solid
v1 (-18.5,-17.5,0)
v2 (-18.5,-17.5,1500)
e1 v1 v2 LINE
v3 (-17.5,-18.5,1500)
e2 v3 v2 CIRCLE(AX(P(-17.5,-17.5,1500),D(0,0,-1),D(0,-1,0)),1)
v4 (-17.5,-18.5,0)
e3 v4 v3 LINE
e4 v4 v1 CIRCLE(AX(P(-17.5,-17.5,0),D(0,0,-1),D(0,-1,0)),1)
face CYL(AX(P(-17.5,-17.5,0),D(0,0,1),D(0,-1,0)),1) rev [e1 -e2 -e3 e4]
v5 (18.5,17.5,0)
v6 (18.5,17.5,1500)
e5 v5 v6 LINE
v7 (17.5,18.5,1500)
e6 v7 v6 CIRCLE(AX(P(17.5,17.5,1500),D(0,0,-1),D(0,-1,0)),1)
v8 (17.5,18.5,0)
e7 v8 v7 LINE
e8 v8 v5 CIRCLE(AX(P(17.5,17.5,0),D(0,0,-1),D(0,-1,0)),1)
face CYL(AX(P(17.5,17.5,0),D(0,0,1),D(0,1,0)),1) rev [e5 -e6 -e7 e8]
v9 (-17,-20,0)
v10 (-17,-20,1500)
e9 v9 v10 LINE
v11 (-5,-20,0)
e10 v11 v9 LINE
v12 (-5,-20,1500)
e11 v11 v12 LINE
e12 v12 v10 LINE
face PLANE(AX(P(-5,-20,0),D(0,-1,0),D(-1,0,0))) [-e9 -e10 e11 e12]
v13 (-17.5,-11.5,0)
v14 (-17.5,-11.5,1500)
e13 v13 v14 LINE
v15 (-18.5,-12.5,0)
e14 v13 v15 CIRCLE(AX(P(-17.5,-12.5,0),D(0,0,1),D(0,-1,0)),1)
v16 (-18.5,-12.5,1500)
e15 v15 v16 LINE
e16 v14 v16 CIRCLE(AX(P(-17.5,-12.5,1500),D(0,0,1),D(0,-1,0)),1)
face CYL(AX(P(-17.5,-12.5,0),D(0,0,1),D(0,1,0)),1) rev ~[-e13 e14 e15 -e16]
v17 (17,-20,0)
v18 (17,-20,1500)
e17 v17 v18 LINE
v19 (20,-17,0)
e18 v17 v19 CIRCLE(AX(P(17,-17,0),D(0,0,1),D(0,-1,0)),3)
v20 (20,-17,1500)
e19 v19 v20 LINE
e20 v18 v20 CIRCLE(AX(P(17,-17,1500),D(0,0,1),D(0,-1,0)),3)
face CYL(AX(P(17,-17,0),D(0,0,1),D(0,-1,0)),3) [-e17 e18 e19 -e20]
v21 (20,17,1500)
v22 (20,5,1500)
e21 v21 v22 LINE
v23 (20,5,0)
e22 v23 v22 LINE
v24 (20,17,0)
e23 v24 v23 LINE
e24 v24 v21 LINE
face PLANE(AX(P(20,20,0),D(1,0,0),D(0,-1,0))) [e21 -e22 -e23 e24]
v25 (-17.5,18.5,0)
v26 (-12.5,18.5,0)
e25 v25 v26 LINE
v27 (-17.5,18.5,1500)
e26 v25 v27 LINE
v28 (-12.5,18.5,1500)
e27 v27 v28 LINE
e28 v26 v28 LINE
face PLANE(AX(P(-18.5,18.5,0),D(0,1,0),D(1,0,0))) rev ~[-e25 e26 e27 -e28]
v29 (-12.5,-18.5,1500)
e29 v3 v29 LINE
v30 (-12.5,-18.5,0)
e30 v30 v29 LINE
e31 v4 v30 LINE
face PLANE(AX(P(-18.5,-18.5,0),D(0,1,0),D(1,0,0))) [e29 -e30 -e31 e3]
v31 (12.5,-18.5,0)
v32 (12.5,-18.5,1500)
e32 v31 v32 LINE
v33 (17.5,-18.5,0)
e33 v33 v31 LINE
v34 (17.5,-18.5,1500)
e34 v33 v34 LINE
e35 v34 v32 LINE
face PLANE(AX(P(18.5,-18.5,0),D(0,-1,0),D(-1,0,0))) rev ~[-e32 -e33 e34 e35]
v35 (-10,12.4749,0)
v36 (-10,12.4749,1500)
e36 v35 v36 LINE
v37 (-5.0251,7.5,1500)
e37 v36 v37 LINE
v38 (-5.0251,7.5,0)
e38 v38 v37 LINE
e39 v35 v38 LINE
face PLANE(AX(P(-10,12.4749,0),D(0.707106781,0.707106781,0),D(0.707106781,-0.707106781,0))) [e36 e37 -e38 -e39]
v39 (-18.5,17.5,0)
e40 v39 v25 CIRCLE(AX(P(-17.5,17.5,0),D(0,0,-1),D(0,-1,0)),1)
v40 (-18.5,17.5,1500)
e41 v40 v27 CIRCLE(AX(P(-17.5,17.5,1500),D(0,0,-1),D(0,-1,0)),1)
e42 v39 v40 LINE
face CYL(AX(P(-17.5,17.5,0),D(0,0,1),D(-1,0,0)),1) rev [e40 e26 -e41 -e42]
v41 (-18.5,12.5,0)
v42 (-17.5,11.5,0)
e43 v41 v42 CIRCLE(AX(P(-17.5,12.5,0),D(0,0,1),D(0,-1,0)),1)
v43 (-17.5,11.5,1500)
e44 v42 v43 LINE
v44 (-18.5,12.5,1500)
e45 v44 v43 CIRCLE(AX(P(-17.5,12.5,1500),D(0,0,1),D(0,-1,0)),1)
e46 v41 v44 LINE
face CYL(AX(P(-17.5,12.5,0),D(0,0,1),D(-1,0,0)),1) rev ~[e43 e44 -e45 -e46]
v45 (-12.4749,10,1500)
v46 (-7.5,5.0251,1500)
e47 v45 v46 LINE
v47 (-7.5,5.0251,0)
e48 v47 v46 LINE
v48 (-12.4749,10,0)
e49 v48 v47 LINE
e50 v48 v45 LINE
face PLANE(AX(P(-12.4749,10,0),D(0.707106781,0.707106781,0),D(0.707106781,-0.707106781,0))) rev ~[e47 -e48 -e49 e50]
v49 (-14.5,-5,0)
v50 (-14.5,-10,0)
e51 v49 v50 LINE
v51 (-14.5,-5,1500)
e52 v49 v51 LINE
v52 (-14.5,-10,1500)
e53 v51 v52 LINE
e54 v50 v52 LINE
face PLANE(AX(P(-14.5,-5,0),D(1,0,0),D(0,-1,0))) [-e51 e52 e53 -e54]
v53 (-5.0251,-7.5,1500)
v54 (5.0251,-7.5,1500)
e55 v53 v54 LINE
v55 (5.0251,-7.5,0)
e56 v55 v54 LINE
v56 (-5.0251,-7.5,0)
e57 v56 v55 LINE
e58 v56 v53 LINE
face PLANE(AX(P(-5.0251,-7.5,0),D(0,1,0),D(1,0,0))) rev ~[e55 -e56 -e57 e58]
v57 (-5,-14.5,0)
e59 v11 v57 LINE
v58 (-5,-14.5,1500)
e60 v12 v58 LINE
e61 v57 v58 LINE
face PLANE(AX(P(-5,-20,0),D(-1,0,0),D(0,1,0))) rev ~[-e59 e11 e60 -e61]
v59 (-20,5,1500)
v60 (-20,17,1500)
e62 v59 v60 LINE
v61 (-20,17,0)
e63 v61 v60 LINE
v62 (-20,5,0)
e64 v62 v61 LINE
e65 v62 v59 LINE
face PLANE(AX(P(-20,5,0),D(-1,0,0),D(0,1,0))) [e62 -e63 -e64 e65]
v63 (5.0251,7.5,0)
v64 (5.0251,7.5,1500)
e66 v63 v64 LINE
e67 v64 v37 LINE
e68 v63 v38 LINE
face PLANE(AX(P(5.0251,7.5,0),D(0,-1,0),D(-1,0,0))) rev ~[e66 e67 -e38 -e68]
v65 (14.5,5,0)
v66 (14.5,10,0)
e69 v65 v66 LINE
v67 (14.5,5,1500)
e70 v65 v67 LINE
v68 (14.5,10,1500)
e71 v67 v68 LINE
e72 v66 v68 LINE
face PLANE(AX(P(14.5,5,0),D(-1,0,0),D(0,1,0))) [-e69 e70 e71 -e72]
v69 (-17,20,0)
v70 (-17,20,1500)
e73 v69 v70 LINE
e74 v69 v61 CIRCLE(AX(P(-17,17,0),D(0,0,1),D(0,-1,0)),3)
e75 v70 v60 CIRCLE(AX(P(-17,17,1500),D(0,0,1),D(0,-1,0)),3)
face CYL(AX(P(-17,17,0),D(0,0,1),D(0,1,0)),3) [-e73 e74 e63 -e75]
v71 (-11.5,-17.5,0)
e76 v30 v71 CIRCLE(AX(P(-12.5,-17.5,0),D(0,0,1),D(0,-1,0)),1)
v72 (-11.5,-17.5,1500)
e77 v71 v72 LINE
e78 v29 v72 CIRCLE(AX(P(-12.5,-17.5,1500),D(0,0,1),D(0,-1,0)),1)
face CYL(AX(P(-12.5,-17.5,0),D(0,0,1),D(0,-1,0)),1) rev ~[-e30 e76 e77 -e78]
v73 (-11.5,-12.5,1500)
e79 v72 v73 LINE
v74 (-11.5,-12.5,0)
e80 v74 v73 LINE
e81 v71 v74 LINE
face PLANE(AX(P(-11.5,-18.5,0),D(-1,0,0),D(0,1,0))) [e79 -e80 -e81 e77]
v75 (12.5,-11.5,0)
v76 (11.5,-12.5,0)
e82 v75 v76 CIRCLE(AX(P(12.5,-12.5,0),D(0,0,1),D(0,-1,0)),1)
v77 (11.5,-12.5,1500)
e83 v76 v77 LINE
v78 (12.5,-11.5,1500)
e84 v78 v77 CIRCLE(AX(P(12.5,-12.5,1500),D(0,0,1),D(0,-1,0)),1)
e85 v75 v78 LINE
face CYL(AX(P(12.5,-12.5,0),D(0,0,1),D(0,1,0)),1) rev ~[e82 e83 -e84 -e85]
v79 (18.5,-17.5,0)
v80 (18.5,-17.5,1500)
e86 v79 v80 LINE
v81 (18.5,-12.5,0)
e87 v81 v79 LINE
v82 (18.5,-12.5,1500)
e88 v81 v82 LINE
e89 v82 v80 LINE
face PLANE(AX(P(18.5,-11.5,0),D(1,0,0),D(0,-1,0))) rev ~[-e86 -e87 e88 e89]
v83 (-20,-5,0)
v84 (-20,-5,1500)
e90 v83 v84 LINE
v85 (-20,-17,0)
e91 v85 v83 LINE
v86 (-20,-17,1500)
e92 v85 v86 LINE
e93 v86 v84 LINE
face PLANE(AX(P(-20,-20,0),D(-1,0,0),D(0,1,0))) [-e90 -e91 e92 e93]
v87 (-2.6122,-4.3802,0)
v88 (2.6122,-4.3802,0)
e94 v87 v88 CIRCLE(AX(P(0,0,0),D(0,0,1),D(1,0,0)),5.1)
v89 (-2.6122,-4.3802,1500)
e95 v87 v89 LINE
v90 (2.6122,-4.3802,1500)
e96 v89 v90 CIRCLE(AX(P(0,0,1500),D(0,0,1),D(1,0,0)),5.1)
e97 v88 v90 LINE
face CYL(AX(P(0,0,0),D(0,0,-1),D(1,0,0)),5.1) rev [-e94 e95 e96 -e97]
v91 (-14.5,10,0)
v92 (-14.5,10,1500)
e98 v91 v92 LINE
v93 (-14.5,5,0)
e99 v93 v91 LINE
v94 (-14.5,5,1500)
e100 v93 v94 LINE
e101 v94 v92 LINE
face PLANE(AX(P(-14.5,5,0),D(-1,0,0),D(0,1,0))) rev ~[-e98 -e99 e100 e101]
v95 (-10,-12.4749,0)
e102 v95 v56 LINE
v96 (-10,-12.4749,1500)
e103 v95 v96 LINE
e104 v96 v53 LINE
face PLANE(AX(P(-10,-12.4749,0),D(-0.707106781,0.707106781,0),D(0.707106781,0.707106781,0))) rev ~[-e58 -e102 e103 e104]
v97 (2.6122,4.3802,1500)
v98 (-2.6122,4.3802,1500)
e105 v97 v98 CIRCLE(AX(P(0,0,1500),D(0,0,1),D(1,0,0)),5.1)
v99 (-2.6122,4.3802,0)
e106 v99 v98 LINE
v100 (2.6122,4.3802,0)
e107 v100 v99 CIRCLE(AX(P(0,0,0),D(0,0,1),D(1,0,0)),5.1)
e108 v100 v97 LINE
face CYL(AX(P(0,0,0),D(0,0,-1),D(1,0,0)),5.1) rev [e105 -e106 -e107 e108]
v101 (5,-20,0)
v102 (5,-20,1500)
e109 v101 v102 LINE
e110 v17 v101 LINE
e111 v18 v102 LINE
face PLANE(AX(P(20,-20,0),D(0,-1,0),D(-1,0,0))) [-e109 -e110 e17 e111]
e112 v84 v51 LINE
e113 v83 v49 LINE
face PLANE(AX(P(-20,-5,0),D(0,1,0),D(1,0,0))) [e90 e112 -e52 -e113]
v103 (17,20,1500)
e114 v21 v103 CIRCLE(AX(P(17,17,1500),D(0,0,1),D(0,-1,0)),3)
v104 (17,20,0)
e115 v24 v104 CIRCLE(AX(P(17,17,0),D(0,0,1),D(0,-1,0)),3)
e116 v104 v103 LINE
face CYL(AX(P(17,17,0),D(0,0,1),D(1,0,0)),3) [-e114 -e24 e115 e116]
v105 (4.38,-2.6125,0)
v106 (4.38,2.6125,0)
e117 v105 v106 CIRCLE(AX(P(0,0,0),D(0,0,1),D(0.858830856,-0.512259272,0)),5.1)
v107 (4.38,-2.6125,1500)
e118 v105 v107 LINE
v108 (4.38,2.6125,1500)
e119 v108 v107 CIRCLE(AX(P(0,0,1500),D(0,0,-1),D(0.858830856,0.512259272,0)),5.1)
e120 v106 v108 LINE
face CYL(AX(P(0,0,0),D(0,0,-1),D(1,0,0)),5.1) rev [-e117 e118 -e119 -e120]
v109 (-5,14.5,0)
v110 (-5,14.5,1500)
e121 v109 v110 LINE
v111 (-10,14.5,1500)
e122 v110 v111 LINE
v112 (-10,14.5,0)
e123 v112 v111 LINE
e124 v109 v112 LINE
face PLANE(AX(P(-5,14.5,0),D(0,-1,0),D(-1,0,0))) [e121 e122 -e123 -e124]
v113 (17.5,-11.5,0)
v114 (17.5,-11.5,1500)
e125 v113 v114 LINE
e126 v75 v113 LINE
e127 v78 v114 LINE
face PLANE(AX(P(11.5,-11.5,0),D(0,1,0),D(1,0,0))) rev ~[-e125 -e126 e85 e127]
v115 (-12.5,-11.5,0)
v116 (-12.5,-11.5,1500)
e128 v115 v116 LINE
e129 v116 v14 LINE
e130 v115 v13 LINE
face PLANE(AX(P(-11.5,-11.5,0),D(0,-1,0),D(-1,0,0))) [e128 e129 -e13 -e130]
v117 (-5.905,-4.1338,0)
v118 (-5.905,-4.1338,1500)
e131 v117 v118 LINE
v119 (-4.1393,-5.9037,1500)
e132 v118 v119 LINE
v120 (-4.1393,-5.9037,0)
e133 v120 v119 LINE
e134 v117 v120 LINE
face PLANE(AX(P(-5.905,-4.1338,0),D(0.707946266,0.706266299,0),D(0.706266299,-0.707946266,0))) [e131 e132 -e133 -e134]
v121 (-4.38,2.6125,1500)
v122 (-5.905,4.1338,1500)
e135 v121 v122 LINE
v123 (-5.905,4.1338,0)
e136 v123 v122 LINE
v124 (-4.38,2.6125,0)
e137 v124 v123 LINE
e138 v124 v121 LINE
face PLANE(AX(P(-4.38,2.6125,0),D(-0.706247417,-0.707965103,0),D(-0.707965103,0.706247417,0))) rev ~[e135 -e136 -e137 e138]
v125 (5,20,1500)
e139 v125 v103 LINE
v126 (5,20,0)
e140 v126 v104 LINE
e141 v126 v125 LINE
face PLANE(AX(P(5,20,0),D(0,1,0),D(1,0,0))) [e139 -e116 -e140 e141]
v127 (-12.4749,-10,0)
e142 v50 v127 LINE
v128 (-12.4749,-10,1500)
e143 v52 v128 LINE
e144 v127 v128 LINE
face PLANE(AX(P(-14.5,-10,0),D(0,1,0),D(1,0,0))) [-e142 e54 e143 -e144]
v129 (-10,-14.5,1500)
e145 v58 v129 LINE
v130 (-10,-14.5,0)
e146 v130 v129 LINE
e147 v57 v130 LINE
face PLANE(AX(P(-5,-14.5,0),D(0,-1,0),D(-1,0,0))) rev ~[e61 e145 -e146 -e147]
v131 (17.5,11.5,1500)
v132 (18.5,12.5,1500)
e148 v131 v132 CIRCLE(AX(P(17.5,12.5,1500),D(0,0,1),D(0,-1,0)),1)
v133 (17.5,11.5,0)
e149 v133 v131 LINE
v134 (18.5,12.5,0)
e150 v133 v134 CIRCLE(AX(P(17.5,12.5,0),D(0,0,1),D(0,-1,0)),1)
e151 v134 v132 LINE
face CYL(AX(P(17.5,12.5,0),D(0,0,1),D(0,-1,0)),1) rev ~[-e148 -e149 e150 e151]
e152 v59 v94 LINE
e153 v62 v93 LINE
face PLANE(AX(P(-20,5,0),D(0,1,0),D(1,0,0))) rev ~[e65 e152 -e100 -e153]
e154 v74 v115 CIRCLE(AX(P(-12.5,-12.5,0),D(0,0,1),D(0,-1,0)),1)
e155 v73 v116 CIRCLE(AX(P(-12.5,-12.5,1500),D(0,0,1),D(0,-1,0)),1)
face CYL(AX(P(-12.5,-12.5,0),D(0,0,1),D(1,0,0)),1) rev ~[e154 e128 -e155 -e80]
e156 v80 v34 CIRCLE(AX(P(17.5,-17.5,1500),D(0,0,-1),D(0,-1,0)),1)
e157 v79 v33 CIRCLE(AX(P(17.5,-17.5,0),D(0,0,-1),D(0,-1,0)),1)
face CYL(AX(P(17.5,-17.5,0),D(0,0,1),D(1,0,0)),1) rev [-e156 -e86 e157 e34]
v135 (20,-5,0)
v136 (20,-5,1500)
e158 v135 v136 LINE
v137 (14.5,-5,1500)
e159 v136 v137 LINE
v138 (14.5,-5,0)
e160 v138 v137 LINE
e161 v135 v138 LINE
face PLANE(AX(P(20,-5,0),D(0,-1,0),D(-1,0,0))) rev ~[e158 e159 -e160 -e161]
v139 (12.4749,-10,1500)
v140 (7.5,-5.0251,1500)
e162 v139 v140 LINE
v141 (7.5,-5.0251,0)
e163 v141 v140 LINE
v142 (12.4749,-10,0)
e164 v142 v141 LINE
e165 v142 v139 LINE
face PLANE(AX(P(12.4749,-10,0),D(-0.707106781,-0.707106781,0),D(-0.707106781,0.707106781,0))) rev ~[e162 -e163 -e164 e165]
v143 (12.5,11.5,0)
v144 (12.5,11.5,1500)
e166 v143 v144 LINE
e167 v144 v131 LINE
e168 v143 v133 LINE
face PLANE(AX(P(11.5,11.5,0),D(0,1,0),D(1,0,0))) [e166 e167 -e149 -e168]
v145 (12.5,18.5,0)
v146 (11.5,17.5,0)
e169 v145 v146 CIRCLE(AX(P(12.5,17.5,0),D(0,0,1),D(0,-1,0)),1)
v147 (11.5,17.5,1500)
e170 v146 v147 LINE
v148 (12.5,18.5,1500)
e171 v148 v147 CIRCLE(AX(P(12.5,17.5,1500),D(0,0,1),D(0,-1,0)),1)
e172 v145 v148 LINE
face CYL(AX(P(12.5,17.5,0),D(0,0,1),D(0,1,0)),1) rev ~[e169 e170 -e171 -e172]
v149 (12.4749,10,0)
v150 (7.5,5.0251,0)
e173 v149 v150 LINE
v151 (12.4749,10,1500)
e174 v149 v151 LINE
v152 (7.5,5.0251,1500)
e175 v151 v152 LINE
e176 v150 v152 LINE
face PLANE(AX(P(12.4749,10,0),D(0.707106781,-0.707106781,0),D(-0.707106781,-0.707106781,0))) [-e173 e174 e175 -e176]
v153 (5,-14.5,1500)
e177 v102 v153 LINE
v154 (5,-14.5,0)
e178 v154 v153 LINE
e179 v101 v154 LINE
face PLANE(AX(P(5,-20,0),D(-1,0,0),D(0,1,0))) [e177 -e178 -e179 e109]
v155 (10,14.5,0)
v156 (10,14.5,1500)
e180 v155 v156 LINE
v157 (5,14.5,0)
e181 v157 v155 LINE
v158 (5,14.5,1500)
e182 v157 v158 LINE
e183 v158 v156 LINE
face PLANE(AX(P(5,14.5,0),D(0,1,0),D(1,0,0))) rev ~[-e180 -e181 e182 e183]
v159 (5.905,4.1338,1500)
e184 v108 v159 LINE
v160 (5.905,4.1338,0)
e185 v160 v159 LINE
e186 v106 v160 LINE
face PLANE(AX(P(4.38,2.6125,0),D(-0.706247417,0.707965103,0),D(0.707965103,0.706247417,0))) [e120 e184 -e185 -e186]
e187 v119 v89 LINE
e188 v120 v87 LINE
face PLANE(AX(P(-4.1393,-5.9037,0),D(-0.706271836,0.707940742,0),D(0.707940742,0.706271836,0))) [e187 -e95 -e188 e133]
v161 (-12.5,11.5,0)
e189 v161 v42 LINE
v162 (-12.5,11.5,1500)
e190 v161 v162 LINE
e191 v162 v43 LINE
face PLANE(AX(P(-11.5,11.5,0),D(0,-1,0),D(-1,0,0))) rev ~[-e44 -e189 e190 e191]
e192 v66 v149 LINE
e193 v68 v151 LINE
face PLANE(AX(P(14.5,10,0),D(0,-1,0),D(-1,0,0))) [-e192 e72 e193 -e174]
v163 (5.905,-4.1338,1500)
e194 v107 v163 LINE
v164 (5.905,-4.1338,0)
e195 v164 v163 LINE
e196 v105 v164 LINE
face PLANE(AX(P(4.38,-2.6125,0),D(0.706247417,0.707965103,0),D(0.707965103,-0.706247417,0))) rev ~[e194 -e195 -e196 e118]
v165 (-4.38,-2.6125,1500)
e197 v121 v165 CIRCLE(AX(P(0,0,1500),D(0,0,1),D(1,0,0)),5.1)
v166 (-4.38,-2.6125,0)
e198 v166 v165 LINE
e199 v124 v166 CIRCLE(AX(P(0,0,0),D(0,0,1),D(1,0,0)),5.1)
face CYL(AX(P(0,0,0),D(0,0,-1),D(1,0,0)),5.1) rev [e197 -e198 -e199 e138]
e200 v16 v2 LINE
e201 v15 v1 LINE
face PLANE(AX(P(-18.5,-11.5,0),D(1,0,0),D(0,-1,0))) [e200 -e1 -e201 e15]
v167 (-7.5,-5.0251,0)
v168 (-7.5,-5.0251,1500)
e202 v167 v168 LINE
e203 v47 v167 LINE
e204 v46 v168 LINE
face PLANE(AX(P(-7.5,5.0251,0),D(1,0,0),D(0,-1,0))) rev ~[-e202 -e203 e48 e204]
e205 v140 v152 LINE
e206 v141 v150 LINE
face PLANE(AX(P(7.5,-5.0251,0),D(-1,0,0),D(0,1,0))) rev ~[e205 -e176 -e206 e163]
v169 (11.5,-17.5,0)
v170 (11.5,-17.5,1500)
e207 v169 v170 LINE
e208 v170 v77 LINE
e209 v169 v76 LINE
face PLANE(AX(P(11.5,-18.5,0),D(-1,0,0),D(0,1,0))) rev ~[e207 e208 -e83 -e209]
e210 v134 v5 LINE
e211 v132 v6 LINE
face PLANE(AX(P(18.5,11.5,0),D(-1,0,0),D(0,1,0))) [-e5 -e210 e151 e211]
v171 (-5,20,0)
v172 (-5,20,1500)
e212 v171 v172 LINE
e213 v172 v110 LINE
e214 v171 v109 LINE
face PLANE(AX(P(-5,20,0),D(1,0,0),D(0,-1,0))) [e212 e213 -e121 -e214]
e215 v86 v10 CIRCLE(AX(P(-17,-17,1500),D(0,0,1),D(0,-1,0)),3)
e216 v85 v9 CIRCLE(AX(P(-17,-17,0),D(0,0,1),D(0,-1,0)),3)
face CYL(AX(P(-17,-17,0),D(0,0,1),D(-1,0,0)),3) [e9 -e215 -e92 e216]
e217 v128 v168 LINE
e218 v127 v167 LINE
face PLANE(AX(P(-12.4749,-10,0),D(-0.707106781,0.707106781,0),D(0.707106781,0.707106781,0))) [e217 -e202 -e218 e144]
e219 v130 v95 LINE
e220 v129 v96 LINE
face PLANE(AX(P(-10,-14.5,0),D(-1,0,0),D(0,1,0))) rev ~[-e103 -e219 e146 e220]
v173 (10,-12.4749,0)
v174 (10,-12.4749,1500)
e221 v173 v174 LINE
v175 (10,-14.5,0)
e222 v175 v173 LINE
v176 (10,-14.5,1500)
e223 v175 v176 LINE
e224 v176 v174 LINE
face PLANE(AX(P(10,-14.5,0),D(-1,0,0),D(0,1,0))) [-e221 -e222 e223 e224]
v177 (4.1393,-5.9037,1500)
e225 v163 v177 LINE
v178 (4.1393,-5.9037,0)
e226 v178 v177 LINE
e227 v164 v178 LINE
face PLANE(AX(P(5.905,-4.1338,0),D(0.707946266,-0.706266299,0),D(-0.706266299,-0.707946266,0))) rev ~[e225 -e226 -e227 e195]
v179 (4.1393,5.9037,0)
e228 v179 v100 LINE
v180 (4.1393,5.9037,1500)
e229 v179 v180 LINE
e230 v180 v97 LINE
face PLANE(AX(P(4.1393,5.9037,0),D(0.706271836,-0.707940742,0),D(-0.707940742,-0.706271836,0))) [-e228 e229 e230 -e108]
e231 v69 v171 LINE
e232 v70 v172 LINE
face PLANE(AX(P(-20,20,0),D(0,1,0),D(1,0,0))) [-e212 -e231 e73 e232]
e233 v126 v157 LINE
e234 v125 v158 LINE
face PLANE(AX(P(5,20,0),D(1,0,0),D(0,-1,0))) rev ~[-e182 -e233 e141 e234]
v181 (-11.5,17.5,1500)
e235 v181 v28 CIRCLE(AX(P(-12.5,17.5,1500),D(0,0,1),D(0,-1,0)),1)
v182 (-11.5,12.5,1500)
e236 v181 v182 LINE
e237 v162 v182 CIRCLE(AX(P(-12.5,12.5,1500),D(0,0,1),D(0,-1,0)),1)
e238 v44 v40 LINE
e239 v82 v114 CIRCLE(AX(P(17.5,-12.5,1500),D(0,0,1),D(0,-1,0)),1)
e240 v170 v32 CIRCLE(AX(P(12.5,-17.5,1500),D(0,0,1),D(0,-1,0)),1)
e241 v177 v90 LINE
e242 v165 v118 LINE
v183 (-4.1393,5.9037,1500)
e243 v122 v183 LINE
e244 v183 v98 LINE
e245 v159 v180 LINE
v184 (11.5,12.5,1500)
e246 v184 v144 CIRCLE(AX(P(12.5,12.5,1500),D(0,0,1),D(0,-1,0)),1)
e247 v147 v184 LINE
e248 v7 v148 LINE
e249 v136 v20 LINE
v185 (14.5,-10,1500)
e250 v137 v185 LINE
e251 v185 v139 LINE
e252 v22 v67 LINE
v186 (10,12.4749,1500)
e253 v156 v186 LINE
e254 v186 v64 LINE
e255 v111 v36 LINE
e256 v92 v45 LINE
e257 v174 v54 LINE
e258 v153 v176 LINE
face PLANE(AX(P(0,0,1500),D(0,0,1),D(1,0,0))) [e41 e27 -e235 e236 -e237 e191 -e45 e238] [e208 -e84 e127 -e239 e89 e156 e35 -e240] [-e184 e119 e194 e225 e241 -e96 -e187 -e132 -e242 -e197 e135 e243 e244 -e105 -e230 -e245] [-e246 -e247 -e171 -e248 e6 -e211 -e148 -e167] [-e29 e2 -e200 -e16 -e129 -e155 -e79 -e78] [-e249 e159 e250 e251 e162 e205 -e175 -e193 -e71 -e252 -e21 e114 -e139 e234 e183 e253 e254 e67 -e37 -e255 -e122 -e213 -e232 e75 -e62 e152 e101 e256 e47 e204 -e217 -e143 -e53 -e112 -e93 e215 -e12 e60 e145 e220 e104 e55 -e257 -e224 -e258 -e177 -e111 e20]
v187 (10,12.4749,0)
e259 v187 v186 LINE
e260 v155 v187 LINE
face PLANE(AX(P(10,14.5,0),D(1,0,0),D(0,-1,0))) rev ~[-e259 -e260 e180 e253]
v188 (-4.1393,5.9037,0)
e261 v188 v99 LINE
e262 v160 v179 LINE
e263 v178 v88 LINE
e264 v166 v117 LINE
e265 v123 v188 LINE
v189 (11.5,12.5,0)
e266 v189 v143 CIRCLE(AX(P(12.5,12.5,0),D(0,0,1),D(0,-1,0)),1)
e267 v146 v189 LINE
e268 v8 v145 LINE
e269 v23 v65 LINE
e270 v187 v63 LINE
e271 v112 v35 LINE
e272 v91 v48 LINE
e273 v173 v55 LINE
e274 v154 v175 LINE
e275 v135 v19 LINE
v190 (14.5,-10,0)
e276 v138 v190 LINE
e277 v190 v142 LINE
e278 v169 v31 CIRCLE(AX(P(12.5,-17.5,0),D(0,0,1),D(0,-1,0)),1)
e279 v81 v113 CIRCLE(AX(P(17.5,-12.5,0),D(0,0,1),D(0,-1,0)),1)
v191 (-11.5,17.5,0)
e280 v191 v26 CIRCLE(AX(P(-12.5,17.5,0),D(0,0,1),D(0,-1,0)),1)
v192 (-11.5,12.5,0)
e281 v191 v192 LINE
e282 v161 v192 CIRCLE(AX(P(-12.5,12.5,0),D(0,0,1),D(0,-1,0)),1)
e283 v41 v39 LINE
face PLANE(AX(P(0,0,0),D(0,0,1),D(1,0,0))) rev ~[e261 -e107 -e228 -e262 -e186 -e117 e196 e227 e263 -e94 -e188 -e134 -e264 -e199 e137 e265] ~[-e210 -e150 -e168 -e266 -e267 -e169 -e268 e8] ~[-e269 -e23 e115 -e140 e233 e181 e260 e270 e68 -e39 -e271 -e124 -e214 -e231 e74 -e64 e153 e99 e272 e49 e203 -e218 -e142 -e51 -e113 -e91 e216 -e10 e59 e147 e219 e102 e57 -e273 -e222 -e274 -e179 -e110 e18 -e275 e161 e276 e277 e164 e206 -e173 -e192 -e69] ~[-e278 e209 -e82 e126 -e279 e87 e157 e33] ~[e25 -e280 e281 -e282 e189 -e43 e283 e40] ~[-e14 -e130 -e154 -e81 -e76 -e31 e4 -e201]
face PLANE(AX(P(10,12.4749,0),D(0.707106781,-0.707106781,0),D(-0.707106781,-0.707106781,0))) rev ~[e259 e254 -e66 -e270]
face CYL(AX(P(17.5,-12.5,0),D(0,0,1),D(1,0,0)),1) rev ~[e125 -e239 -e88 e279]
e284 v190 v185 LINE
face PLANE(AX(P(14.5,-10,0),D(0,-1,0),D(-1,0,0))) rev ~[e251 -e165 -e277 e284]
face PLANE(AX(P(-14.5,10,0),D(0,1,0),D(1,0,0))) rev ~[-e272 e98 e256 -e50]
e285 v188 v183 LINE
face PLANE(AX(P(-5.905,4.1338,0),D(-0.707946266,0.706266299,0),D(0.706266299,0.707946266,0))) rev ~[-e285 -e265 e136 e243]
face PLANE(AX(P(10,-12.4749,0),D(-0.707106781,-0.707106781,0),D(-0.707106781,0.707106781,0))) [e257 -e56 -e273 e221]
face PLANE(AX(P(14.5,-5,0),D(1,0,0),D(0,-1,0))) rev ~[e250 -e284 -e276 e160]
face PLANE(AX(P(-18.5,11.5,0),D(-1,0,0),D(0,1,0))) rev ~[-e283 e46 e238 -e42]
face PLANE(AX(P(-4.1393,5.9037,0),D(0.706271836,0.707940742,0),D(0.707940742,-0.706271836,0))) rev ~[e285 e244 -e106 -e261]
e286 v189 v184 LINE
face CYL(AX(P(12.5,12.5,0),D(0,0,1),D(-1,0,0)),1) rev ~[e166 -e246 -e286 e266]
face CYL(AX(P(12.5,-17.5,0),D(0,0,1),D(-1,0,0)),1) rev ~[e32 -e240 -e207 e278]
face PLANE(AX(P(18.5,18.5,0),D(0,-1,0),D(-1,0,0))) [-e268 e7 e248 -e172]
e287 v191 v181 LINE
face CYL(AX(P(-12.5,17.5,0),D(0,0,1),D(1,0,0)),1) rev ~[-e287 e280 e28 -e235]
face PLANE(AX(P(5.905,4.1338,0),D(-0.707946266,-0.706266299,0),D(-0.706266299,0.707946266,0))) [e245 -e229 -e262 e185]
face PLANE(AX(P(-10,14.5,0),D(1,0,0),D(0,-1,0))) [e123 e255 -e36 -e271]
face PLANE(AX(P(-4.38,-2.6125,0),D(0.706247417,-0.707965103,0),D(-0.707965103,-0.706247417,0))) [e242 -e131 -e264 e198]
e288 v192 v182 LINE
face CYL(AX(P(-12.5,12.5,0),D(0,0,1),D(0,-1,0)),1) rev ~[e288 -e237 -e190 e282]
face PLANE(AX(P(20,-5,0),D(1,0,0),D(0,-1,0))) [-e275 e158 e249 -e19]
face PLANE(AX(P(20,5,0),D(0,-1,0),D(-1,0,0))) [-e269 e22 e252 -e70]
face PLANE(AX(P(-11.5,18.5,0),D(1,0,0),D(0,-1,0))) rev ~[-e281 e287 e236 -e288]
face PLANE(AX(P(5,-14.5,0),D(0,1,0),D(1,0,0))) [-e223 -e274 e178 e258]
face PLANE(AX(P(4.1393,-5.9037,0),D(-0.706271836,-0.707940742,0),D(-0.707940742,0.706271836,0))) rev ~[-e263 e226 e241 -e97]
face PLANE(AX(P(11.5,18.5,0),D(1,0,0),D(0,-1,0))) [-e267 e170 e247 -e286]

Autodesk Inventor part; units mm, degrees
ref_plane "YZ Plane" through (0, 0, 0) normal (1, 0, 0) x (0, 1, 0)
ref_plane "XZ Plane" through (0, 0, 0) normal (0, 1, 0) x (-1, 0, 0)
ref_plane "XY Plane" through (0, 0, 0) normal (0, 0, 1) x (1, 0, 0)
sketch "T-Slot 4040 Base" plane through (0, 0, 0) normal (0, 0, 1) x (1, 0, 0)
  line L0 (-28, 0) -> (28, 0) construction
  line L1 (0, -28) -> (0, 28) construction
  circle A0 centre (0, 0) radius 5.1
  line L2 (-7.5, -7.5) -> (7.5, -7.5)
  line L3 (7.5, -7.5) -> (7.5, 7.5)
  line L4 (7.5, 7.5) -> (-7.5, 7.5)
  line L5 (-7.5, 7.5) -> (-7.5, -7.5)
  line L6 (-7.5, -7.5) -> (7.5, 7.5) construction
  line L7 (7.5, -7.5) -> (-7.5, 7.5) construction
  line L8 (-20, 20) -> (20, 20)
  line L9 (20, 20) -> (20, -20)
  line L10 (20, -20) -> (-20, -20)
  line L11 (-20, -20) -> (-20, 20)
  line L12 (-20, 20) -> (20, -20) construction
  line L13 (20, 20) -> (-20, -20) construction
  line L14 (20, 5) -> (14.5, 5)
  line L15 (14.5, 5) -> (14.5, 10)
  line L16 (14.5, 10) -> (12.4749, 10)
  line L17 (12.4749, 10) -> (7.5, 5.0251)
  line L18 (5, 20) -> (5, 14.5)
  line L19 (5, 14.5) -> (10, 14.5)
  line L20 (10, 14.5) -> (10, 12.4749)
  line L21 (10, 12.4749) -> (5.0251, 7.5)
  line L22 (18.5, 18.5) -> (11.5, 18.5)
  line L23 (11.5, 18.5) -> (11.5, 11.5)
  line L24 (11.5, 11.5) -> (18.5, 11.5)
  line L25 (18.5, 11.5) -> (18.5, 18.5)
  line L26 (18.5, 18.5) -> (11.5, 11.5) construction
  line L27 (11.5, 18.5) -> (18.5, 11.5) construction
  line L28 (3.0732, 1.3088) -> (4.38, 2.6125) construction
  line L29 (5.905, 4.1338) -> (4.1393, 5.9037)
  line L30 (4.1393, 5.9037) -> (2.6122, 4.3802)
  line L31 (1.3075, 3.0787) -> (3.0732, 1.3088) construction
  line L32 (3.0732, 1.3088) -> (4.1393, 5.9037) construction
  line L33 (5.905, 4.1338) -> (1.3075, 3.0787) construction
  line L34 (4.38, 2.6125) -> (5.905, 4.1338)
  line L35 (2.6122, 4.3802) -> (1.3075, 3.0787) construction
  line L36 (-20, 5) -> (-14.5, 5)
  line L37 (-14.5, 5) -> (-14.5, 10)
  line L38 (-14.5, 10) -> (-12.4749, 10)
  line L39 (-12.4749, 10) -> (-7.5, 5.0251)
  line L40 (-5, 20) -> (-5, 14.5)
  line L41 (-5, 14.5) -> (-10, 14.5)
  line L42 (-10, 14.5) -> (-10, 12.4749)
  line L43 (-10, 12.4749) -> (-5.0251, 7.5)
  line L44 (-18.5, 18.5) -> (-11.5, 18.5)
  line L45 (-11.5, 18.5) -> (-11.5, 11.5)
  line L46 (-11.5, 11.5) -> (-18.5, 11.5)
  line L47 (-18.5, 11.5) -> (-18.5, 18.5)
  line L48 (-5.905, 4.1338) -> (-4.1393, 5.9037)
  line L49 (-4.1393, 5.9037) -> (-2.6122, 4.3802)
  line L50 (-4.38, 2.6125) -> (-5.905, 4.1338)
  line L51 (7.5, -7.5) -> (-7.5, -7.5)
  line L52 (20, -5) -> (14.5, -5)
  line L53 (14.5, -5) -> (14.5, -10)
  line L54 (14.5, -10) -> (12.4749, -10)
  line L55 (12.4749, -10) -> (7.5, -5.0251)
  line L56 (5, -20) -> (5, -14.5)
  line L57 (5, -14.5) -> (10, -14.5)
  line L58 (10, -14.5) -> (10, -12.4749)
  line L59 (10, -12.4749) -> (5.0251, -7.5)
  line L60 (18.5, -18.5) -> (11.5, -18.5)
  line L61 (11.5, -18.5) -> (11.5, -11.5)
  line L62 (11.5, -11.5) -> (18.5, -11.5)
  line L63 (18.5, -11.5) -> (18.5, -18.5)
  line L64 (18.5, -18.5) -> (11.5, -11.5) construction
  line L65 (11.5, -18.5) -> (18.5, -11.5) construction
  line L66 (3.0732, -1.3088) -> (4.38, -2.6125) construction
  line L67 (5.905, -4.1338) -> (4.1393, -5.9037)
  line L68 (4.1393, -5.9037) -> (2.6122, -4.3802)
  line L69 (1.3075, -3.0787) -> (3.0732, -1.3088) construction
  line L70 (3.0732, -1.3088) -> (4.1393, -5.9037) construction
  line L71 (5.905, -4.1338) -> (1.3075, -3.0787) construction
  line L72 (4.38, -2.6125) -> (5.905, -4.1338)
  line L73 (2.6122, -4.3802) -> (1.3075, -3.0787) construction
  line L74 (-4.38, -2.6125) -> (-5.905, -4.1338)
  line L75 (-4.1393, -5.9037) -> (-2.6122, -4.3802)
  line L76 (-5.905, -4.1338) -> (-4.1393, -5.9037)
  line L77 (-12.4749, -10) -> (-7.5, -5.0251)
  line L78 (-10, -12.4749) -> (-5.0251, -7.5)
  line L79 (-10, -14.5) -> (-10, -12.4749)
  line L80 (-5, -14.5) -> (-10, -14.5)
  line L81 (-5, -20) -> (-5, -14.5)
  line L82 (-18.5, -18.5) -> (-11.5, -18.5)
  line L83 (-11.5, -18.5) -> (-11.5, -11.5)
  line L84 (-11.5, -11.5) -> (-18.5, -11.5)
  line L85 (-18.5, -11.5) -> (-18.5, -18.5)
  line L86 (-14.5, -10) -> (-12.4749, -10)
  line L87 (-14.5, -5) -> (-14.5, -10)
  line L88 (-20, -5) -> (-14.5, -5)
  point P0 (15, 15)
  point P1 (3.6062, 3.6062)
  point P2 (3.6062, 3.6062)
  point P3 (15, -15)
  point P4 (3.6062, -3.6062)
  point P5 (3.6062, -3.6062)
  dimension "d9" = 10.2
  dimension "d12" = 40
  dimension "d13" = 40
  dimension "d14" = 5.5
  dimension "d15" = 15
  dimension "d16" = 7
  dimension "d17" = 10
  dimension "d20" = 1.75
  dimension "d21" = 7
  dimension "d22" = 2
  dimension "d29" = 1.5
  dimension "d30" = 2.5
extrude "Extrusion1" add sketch "T-Slot 4040 Base" along normal blind 1500 contours L5 L4 L3 L2 | L2 L78 L79 L80 L81 L10 L11 L88 L87 L86 L77 L5 | L2 L3 L55 L54 L53 L52 L9 L10 L56 L57 L58 L59 | L39 L38 L37 L36 L11 L8 L40 L41 L42 L43 L4 L5 | L3 L4 L21 L20 L19 L18 L8 L9 L14 L15 L16 L17
fillet "Rundung1" radius 1 16 edges at (11.5, 18.5, 750) (18.5, 18.5, 750) (18.5, 11.5, 750) (11.5, 11.5, 750) (-11.5, 18.5, 750) (-18.5, 18.5, 750) (-18.5, 11.5, 750) (-11.5, 11.5, 750) (-18.5, -11.5, 750) (-11.5, -11.5, 750) (-11.5, -18.5, 750) (-18.5, -18.5, 750) (11.5, -18.5, 750) (11.5, -11.5, 750) (18.5, -11.5, 750) (18.5, -18.5, 750)
fillet "Rundung2" radius 3 4 edges at (20, 20, 750) (20, -20, 750) (-20, -20, 750) (-20, 20, 750)
properties part number "T-SLOT 4040 B-Type 1500mm"
